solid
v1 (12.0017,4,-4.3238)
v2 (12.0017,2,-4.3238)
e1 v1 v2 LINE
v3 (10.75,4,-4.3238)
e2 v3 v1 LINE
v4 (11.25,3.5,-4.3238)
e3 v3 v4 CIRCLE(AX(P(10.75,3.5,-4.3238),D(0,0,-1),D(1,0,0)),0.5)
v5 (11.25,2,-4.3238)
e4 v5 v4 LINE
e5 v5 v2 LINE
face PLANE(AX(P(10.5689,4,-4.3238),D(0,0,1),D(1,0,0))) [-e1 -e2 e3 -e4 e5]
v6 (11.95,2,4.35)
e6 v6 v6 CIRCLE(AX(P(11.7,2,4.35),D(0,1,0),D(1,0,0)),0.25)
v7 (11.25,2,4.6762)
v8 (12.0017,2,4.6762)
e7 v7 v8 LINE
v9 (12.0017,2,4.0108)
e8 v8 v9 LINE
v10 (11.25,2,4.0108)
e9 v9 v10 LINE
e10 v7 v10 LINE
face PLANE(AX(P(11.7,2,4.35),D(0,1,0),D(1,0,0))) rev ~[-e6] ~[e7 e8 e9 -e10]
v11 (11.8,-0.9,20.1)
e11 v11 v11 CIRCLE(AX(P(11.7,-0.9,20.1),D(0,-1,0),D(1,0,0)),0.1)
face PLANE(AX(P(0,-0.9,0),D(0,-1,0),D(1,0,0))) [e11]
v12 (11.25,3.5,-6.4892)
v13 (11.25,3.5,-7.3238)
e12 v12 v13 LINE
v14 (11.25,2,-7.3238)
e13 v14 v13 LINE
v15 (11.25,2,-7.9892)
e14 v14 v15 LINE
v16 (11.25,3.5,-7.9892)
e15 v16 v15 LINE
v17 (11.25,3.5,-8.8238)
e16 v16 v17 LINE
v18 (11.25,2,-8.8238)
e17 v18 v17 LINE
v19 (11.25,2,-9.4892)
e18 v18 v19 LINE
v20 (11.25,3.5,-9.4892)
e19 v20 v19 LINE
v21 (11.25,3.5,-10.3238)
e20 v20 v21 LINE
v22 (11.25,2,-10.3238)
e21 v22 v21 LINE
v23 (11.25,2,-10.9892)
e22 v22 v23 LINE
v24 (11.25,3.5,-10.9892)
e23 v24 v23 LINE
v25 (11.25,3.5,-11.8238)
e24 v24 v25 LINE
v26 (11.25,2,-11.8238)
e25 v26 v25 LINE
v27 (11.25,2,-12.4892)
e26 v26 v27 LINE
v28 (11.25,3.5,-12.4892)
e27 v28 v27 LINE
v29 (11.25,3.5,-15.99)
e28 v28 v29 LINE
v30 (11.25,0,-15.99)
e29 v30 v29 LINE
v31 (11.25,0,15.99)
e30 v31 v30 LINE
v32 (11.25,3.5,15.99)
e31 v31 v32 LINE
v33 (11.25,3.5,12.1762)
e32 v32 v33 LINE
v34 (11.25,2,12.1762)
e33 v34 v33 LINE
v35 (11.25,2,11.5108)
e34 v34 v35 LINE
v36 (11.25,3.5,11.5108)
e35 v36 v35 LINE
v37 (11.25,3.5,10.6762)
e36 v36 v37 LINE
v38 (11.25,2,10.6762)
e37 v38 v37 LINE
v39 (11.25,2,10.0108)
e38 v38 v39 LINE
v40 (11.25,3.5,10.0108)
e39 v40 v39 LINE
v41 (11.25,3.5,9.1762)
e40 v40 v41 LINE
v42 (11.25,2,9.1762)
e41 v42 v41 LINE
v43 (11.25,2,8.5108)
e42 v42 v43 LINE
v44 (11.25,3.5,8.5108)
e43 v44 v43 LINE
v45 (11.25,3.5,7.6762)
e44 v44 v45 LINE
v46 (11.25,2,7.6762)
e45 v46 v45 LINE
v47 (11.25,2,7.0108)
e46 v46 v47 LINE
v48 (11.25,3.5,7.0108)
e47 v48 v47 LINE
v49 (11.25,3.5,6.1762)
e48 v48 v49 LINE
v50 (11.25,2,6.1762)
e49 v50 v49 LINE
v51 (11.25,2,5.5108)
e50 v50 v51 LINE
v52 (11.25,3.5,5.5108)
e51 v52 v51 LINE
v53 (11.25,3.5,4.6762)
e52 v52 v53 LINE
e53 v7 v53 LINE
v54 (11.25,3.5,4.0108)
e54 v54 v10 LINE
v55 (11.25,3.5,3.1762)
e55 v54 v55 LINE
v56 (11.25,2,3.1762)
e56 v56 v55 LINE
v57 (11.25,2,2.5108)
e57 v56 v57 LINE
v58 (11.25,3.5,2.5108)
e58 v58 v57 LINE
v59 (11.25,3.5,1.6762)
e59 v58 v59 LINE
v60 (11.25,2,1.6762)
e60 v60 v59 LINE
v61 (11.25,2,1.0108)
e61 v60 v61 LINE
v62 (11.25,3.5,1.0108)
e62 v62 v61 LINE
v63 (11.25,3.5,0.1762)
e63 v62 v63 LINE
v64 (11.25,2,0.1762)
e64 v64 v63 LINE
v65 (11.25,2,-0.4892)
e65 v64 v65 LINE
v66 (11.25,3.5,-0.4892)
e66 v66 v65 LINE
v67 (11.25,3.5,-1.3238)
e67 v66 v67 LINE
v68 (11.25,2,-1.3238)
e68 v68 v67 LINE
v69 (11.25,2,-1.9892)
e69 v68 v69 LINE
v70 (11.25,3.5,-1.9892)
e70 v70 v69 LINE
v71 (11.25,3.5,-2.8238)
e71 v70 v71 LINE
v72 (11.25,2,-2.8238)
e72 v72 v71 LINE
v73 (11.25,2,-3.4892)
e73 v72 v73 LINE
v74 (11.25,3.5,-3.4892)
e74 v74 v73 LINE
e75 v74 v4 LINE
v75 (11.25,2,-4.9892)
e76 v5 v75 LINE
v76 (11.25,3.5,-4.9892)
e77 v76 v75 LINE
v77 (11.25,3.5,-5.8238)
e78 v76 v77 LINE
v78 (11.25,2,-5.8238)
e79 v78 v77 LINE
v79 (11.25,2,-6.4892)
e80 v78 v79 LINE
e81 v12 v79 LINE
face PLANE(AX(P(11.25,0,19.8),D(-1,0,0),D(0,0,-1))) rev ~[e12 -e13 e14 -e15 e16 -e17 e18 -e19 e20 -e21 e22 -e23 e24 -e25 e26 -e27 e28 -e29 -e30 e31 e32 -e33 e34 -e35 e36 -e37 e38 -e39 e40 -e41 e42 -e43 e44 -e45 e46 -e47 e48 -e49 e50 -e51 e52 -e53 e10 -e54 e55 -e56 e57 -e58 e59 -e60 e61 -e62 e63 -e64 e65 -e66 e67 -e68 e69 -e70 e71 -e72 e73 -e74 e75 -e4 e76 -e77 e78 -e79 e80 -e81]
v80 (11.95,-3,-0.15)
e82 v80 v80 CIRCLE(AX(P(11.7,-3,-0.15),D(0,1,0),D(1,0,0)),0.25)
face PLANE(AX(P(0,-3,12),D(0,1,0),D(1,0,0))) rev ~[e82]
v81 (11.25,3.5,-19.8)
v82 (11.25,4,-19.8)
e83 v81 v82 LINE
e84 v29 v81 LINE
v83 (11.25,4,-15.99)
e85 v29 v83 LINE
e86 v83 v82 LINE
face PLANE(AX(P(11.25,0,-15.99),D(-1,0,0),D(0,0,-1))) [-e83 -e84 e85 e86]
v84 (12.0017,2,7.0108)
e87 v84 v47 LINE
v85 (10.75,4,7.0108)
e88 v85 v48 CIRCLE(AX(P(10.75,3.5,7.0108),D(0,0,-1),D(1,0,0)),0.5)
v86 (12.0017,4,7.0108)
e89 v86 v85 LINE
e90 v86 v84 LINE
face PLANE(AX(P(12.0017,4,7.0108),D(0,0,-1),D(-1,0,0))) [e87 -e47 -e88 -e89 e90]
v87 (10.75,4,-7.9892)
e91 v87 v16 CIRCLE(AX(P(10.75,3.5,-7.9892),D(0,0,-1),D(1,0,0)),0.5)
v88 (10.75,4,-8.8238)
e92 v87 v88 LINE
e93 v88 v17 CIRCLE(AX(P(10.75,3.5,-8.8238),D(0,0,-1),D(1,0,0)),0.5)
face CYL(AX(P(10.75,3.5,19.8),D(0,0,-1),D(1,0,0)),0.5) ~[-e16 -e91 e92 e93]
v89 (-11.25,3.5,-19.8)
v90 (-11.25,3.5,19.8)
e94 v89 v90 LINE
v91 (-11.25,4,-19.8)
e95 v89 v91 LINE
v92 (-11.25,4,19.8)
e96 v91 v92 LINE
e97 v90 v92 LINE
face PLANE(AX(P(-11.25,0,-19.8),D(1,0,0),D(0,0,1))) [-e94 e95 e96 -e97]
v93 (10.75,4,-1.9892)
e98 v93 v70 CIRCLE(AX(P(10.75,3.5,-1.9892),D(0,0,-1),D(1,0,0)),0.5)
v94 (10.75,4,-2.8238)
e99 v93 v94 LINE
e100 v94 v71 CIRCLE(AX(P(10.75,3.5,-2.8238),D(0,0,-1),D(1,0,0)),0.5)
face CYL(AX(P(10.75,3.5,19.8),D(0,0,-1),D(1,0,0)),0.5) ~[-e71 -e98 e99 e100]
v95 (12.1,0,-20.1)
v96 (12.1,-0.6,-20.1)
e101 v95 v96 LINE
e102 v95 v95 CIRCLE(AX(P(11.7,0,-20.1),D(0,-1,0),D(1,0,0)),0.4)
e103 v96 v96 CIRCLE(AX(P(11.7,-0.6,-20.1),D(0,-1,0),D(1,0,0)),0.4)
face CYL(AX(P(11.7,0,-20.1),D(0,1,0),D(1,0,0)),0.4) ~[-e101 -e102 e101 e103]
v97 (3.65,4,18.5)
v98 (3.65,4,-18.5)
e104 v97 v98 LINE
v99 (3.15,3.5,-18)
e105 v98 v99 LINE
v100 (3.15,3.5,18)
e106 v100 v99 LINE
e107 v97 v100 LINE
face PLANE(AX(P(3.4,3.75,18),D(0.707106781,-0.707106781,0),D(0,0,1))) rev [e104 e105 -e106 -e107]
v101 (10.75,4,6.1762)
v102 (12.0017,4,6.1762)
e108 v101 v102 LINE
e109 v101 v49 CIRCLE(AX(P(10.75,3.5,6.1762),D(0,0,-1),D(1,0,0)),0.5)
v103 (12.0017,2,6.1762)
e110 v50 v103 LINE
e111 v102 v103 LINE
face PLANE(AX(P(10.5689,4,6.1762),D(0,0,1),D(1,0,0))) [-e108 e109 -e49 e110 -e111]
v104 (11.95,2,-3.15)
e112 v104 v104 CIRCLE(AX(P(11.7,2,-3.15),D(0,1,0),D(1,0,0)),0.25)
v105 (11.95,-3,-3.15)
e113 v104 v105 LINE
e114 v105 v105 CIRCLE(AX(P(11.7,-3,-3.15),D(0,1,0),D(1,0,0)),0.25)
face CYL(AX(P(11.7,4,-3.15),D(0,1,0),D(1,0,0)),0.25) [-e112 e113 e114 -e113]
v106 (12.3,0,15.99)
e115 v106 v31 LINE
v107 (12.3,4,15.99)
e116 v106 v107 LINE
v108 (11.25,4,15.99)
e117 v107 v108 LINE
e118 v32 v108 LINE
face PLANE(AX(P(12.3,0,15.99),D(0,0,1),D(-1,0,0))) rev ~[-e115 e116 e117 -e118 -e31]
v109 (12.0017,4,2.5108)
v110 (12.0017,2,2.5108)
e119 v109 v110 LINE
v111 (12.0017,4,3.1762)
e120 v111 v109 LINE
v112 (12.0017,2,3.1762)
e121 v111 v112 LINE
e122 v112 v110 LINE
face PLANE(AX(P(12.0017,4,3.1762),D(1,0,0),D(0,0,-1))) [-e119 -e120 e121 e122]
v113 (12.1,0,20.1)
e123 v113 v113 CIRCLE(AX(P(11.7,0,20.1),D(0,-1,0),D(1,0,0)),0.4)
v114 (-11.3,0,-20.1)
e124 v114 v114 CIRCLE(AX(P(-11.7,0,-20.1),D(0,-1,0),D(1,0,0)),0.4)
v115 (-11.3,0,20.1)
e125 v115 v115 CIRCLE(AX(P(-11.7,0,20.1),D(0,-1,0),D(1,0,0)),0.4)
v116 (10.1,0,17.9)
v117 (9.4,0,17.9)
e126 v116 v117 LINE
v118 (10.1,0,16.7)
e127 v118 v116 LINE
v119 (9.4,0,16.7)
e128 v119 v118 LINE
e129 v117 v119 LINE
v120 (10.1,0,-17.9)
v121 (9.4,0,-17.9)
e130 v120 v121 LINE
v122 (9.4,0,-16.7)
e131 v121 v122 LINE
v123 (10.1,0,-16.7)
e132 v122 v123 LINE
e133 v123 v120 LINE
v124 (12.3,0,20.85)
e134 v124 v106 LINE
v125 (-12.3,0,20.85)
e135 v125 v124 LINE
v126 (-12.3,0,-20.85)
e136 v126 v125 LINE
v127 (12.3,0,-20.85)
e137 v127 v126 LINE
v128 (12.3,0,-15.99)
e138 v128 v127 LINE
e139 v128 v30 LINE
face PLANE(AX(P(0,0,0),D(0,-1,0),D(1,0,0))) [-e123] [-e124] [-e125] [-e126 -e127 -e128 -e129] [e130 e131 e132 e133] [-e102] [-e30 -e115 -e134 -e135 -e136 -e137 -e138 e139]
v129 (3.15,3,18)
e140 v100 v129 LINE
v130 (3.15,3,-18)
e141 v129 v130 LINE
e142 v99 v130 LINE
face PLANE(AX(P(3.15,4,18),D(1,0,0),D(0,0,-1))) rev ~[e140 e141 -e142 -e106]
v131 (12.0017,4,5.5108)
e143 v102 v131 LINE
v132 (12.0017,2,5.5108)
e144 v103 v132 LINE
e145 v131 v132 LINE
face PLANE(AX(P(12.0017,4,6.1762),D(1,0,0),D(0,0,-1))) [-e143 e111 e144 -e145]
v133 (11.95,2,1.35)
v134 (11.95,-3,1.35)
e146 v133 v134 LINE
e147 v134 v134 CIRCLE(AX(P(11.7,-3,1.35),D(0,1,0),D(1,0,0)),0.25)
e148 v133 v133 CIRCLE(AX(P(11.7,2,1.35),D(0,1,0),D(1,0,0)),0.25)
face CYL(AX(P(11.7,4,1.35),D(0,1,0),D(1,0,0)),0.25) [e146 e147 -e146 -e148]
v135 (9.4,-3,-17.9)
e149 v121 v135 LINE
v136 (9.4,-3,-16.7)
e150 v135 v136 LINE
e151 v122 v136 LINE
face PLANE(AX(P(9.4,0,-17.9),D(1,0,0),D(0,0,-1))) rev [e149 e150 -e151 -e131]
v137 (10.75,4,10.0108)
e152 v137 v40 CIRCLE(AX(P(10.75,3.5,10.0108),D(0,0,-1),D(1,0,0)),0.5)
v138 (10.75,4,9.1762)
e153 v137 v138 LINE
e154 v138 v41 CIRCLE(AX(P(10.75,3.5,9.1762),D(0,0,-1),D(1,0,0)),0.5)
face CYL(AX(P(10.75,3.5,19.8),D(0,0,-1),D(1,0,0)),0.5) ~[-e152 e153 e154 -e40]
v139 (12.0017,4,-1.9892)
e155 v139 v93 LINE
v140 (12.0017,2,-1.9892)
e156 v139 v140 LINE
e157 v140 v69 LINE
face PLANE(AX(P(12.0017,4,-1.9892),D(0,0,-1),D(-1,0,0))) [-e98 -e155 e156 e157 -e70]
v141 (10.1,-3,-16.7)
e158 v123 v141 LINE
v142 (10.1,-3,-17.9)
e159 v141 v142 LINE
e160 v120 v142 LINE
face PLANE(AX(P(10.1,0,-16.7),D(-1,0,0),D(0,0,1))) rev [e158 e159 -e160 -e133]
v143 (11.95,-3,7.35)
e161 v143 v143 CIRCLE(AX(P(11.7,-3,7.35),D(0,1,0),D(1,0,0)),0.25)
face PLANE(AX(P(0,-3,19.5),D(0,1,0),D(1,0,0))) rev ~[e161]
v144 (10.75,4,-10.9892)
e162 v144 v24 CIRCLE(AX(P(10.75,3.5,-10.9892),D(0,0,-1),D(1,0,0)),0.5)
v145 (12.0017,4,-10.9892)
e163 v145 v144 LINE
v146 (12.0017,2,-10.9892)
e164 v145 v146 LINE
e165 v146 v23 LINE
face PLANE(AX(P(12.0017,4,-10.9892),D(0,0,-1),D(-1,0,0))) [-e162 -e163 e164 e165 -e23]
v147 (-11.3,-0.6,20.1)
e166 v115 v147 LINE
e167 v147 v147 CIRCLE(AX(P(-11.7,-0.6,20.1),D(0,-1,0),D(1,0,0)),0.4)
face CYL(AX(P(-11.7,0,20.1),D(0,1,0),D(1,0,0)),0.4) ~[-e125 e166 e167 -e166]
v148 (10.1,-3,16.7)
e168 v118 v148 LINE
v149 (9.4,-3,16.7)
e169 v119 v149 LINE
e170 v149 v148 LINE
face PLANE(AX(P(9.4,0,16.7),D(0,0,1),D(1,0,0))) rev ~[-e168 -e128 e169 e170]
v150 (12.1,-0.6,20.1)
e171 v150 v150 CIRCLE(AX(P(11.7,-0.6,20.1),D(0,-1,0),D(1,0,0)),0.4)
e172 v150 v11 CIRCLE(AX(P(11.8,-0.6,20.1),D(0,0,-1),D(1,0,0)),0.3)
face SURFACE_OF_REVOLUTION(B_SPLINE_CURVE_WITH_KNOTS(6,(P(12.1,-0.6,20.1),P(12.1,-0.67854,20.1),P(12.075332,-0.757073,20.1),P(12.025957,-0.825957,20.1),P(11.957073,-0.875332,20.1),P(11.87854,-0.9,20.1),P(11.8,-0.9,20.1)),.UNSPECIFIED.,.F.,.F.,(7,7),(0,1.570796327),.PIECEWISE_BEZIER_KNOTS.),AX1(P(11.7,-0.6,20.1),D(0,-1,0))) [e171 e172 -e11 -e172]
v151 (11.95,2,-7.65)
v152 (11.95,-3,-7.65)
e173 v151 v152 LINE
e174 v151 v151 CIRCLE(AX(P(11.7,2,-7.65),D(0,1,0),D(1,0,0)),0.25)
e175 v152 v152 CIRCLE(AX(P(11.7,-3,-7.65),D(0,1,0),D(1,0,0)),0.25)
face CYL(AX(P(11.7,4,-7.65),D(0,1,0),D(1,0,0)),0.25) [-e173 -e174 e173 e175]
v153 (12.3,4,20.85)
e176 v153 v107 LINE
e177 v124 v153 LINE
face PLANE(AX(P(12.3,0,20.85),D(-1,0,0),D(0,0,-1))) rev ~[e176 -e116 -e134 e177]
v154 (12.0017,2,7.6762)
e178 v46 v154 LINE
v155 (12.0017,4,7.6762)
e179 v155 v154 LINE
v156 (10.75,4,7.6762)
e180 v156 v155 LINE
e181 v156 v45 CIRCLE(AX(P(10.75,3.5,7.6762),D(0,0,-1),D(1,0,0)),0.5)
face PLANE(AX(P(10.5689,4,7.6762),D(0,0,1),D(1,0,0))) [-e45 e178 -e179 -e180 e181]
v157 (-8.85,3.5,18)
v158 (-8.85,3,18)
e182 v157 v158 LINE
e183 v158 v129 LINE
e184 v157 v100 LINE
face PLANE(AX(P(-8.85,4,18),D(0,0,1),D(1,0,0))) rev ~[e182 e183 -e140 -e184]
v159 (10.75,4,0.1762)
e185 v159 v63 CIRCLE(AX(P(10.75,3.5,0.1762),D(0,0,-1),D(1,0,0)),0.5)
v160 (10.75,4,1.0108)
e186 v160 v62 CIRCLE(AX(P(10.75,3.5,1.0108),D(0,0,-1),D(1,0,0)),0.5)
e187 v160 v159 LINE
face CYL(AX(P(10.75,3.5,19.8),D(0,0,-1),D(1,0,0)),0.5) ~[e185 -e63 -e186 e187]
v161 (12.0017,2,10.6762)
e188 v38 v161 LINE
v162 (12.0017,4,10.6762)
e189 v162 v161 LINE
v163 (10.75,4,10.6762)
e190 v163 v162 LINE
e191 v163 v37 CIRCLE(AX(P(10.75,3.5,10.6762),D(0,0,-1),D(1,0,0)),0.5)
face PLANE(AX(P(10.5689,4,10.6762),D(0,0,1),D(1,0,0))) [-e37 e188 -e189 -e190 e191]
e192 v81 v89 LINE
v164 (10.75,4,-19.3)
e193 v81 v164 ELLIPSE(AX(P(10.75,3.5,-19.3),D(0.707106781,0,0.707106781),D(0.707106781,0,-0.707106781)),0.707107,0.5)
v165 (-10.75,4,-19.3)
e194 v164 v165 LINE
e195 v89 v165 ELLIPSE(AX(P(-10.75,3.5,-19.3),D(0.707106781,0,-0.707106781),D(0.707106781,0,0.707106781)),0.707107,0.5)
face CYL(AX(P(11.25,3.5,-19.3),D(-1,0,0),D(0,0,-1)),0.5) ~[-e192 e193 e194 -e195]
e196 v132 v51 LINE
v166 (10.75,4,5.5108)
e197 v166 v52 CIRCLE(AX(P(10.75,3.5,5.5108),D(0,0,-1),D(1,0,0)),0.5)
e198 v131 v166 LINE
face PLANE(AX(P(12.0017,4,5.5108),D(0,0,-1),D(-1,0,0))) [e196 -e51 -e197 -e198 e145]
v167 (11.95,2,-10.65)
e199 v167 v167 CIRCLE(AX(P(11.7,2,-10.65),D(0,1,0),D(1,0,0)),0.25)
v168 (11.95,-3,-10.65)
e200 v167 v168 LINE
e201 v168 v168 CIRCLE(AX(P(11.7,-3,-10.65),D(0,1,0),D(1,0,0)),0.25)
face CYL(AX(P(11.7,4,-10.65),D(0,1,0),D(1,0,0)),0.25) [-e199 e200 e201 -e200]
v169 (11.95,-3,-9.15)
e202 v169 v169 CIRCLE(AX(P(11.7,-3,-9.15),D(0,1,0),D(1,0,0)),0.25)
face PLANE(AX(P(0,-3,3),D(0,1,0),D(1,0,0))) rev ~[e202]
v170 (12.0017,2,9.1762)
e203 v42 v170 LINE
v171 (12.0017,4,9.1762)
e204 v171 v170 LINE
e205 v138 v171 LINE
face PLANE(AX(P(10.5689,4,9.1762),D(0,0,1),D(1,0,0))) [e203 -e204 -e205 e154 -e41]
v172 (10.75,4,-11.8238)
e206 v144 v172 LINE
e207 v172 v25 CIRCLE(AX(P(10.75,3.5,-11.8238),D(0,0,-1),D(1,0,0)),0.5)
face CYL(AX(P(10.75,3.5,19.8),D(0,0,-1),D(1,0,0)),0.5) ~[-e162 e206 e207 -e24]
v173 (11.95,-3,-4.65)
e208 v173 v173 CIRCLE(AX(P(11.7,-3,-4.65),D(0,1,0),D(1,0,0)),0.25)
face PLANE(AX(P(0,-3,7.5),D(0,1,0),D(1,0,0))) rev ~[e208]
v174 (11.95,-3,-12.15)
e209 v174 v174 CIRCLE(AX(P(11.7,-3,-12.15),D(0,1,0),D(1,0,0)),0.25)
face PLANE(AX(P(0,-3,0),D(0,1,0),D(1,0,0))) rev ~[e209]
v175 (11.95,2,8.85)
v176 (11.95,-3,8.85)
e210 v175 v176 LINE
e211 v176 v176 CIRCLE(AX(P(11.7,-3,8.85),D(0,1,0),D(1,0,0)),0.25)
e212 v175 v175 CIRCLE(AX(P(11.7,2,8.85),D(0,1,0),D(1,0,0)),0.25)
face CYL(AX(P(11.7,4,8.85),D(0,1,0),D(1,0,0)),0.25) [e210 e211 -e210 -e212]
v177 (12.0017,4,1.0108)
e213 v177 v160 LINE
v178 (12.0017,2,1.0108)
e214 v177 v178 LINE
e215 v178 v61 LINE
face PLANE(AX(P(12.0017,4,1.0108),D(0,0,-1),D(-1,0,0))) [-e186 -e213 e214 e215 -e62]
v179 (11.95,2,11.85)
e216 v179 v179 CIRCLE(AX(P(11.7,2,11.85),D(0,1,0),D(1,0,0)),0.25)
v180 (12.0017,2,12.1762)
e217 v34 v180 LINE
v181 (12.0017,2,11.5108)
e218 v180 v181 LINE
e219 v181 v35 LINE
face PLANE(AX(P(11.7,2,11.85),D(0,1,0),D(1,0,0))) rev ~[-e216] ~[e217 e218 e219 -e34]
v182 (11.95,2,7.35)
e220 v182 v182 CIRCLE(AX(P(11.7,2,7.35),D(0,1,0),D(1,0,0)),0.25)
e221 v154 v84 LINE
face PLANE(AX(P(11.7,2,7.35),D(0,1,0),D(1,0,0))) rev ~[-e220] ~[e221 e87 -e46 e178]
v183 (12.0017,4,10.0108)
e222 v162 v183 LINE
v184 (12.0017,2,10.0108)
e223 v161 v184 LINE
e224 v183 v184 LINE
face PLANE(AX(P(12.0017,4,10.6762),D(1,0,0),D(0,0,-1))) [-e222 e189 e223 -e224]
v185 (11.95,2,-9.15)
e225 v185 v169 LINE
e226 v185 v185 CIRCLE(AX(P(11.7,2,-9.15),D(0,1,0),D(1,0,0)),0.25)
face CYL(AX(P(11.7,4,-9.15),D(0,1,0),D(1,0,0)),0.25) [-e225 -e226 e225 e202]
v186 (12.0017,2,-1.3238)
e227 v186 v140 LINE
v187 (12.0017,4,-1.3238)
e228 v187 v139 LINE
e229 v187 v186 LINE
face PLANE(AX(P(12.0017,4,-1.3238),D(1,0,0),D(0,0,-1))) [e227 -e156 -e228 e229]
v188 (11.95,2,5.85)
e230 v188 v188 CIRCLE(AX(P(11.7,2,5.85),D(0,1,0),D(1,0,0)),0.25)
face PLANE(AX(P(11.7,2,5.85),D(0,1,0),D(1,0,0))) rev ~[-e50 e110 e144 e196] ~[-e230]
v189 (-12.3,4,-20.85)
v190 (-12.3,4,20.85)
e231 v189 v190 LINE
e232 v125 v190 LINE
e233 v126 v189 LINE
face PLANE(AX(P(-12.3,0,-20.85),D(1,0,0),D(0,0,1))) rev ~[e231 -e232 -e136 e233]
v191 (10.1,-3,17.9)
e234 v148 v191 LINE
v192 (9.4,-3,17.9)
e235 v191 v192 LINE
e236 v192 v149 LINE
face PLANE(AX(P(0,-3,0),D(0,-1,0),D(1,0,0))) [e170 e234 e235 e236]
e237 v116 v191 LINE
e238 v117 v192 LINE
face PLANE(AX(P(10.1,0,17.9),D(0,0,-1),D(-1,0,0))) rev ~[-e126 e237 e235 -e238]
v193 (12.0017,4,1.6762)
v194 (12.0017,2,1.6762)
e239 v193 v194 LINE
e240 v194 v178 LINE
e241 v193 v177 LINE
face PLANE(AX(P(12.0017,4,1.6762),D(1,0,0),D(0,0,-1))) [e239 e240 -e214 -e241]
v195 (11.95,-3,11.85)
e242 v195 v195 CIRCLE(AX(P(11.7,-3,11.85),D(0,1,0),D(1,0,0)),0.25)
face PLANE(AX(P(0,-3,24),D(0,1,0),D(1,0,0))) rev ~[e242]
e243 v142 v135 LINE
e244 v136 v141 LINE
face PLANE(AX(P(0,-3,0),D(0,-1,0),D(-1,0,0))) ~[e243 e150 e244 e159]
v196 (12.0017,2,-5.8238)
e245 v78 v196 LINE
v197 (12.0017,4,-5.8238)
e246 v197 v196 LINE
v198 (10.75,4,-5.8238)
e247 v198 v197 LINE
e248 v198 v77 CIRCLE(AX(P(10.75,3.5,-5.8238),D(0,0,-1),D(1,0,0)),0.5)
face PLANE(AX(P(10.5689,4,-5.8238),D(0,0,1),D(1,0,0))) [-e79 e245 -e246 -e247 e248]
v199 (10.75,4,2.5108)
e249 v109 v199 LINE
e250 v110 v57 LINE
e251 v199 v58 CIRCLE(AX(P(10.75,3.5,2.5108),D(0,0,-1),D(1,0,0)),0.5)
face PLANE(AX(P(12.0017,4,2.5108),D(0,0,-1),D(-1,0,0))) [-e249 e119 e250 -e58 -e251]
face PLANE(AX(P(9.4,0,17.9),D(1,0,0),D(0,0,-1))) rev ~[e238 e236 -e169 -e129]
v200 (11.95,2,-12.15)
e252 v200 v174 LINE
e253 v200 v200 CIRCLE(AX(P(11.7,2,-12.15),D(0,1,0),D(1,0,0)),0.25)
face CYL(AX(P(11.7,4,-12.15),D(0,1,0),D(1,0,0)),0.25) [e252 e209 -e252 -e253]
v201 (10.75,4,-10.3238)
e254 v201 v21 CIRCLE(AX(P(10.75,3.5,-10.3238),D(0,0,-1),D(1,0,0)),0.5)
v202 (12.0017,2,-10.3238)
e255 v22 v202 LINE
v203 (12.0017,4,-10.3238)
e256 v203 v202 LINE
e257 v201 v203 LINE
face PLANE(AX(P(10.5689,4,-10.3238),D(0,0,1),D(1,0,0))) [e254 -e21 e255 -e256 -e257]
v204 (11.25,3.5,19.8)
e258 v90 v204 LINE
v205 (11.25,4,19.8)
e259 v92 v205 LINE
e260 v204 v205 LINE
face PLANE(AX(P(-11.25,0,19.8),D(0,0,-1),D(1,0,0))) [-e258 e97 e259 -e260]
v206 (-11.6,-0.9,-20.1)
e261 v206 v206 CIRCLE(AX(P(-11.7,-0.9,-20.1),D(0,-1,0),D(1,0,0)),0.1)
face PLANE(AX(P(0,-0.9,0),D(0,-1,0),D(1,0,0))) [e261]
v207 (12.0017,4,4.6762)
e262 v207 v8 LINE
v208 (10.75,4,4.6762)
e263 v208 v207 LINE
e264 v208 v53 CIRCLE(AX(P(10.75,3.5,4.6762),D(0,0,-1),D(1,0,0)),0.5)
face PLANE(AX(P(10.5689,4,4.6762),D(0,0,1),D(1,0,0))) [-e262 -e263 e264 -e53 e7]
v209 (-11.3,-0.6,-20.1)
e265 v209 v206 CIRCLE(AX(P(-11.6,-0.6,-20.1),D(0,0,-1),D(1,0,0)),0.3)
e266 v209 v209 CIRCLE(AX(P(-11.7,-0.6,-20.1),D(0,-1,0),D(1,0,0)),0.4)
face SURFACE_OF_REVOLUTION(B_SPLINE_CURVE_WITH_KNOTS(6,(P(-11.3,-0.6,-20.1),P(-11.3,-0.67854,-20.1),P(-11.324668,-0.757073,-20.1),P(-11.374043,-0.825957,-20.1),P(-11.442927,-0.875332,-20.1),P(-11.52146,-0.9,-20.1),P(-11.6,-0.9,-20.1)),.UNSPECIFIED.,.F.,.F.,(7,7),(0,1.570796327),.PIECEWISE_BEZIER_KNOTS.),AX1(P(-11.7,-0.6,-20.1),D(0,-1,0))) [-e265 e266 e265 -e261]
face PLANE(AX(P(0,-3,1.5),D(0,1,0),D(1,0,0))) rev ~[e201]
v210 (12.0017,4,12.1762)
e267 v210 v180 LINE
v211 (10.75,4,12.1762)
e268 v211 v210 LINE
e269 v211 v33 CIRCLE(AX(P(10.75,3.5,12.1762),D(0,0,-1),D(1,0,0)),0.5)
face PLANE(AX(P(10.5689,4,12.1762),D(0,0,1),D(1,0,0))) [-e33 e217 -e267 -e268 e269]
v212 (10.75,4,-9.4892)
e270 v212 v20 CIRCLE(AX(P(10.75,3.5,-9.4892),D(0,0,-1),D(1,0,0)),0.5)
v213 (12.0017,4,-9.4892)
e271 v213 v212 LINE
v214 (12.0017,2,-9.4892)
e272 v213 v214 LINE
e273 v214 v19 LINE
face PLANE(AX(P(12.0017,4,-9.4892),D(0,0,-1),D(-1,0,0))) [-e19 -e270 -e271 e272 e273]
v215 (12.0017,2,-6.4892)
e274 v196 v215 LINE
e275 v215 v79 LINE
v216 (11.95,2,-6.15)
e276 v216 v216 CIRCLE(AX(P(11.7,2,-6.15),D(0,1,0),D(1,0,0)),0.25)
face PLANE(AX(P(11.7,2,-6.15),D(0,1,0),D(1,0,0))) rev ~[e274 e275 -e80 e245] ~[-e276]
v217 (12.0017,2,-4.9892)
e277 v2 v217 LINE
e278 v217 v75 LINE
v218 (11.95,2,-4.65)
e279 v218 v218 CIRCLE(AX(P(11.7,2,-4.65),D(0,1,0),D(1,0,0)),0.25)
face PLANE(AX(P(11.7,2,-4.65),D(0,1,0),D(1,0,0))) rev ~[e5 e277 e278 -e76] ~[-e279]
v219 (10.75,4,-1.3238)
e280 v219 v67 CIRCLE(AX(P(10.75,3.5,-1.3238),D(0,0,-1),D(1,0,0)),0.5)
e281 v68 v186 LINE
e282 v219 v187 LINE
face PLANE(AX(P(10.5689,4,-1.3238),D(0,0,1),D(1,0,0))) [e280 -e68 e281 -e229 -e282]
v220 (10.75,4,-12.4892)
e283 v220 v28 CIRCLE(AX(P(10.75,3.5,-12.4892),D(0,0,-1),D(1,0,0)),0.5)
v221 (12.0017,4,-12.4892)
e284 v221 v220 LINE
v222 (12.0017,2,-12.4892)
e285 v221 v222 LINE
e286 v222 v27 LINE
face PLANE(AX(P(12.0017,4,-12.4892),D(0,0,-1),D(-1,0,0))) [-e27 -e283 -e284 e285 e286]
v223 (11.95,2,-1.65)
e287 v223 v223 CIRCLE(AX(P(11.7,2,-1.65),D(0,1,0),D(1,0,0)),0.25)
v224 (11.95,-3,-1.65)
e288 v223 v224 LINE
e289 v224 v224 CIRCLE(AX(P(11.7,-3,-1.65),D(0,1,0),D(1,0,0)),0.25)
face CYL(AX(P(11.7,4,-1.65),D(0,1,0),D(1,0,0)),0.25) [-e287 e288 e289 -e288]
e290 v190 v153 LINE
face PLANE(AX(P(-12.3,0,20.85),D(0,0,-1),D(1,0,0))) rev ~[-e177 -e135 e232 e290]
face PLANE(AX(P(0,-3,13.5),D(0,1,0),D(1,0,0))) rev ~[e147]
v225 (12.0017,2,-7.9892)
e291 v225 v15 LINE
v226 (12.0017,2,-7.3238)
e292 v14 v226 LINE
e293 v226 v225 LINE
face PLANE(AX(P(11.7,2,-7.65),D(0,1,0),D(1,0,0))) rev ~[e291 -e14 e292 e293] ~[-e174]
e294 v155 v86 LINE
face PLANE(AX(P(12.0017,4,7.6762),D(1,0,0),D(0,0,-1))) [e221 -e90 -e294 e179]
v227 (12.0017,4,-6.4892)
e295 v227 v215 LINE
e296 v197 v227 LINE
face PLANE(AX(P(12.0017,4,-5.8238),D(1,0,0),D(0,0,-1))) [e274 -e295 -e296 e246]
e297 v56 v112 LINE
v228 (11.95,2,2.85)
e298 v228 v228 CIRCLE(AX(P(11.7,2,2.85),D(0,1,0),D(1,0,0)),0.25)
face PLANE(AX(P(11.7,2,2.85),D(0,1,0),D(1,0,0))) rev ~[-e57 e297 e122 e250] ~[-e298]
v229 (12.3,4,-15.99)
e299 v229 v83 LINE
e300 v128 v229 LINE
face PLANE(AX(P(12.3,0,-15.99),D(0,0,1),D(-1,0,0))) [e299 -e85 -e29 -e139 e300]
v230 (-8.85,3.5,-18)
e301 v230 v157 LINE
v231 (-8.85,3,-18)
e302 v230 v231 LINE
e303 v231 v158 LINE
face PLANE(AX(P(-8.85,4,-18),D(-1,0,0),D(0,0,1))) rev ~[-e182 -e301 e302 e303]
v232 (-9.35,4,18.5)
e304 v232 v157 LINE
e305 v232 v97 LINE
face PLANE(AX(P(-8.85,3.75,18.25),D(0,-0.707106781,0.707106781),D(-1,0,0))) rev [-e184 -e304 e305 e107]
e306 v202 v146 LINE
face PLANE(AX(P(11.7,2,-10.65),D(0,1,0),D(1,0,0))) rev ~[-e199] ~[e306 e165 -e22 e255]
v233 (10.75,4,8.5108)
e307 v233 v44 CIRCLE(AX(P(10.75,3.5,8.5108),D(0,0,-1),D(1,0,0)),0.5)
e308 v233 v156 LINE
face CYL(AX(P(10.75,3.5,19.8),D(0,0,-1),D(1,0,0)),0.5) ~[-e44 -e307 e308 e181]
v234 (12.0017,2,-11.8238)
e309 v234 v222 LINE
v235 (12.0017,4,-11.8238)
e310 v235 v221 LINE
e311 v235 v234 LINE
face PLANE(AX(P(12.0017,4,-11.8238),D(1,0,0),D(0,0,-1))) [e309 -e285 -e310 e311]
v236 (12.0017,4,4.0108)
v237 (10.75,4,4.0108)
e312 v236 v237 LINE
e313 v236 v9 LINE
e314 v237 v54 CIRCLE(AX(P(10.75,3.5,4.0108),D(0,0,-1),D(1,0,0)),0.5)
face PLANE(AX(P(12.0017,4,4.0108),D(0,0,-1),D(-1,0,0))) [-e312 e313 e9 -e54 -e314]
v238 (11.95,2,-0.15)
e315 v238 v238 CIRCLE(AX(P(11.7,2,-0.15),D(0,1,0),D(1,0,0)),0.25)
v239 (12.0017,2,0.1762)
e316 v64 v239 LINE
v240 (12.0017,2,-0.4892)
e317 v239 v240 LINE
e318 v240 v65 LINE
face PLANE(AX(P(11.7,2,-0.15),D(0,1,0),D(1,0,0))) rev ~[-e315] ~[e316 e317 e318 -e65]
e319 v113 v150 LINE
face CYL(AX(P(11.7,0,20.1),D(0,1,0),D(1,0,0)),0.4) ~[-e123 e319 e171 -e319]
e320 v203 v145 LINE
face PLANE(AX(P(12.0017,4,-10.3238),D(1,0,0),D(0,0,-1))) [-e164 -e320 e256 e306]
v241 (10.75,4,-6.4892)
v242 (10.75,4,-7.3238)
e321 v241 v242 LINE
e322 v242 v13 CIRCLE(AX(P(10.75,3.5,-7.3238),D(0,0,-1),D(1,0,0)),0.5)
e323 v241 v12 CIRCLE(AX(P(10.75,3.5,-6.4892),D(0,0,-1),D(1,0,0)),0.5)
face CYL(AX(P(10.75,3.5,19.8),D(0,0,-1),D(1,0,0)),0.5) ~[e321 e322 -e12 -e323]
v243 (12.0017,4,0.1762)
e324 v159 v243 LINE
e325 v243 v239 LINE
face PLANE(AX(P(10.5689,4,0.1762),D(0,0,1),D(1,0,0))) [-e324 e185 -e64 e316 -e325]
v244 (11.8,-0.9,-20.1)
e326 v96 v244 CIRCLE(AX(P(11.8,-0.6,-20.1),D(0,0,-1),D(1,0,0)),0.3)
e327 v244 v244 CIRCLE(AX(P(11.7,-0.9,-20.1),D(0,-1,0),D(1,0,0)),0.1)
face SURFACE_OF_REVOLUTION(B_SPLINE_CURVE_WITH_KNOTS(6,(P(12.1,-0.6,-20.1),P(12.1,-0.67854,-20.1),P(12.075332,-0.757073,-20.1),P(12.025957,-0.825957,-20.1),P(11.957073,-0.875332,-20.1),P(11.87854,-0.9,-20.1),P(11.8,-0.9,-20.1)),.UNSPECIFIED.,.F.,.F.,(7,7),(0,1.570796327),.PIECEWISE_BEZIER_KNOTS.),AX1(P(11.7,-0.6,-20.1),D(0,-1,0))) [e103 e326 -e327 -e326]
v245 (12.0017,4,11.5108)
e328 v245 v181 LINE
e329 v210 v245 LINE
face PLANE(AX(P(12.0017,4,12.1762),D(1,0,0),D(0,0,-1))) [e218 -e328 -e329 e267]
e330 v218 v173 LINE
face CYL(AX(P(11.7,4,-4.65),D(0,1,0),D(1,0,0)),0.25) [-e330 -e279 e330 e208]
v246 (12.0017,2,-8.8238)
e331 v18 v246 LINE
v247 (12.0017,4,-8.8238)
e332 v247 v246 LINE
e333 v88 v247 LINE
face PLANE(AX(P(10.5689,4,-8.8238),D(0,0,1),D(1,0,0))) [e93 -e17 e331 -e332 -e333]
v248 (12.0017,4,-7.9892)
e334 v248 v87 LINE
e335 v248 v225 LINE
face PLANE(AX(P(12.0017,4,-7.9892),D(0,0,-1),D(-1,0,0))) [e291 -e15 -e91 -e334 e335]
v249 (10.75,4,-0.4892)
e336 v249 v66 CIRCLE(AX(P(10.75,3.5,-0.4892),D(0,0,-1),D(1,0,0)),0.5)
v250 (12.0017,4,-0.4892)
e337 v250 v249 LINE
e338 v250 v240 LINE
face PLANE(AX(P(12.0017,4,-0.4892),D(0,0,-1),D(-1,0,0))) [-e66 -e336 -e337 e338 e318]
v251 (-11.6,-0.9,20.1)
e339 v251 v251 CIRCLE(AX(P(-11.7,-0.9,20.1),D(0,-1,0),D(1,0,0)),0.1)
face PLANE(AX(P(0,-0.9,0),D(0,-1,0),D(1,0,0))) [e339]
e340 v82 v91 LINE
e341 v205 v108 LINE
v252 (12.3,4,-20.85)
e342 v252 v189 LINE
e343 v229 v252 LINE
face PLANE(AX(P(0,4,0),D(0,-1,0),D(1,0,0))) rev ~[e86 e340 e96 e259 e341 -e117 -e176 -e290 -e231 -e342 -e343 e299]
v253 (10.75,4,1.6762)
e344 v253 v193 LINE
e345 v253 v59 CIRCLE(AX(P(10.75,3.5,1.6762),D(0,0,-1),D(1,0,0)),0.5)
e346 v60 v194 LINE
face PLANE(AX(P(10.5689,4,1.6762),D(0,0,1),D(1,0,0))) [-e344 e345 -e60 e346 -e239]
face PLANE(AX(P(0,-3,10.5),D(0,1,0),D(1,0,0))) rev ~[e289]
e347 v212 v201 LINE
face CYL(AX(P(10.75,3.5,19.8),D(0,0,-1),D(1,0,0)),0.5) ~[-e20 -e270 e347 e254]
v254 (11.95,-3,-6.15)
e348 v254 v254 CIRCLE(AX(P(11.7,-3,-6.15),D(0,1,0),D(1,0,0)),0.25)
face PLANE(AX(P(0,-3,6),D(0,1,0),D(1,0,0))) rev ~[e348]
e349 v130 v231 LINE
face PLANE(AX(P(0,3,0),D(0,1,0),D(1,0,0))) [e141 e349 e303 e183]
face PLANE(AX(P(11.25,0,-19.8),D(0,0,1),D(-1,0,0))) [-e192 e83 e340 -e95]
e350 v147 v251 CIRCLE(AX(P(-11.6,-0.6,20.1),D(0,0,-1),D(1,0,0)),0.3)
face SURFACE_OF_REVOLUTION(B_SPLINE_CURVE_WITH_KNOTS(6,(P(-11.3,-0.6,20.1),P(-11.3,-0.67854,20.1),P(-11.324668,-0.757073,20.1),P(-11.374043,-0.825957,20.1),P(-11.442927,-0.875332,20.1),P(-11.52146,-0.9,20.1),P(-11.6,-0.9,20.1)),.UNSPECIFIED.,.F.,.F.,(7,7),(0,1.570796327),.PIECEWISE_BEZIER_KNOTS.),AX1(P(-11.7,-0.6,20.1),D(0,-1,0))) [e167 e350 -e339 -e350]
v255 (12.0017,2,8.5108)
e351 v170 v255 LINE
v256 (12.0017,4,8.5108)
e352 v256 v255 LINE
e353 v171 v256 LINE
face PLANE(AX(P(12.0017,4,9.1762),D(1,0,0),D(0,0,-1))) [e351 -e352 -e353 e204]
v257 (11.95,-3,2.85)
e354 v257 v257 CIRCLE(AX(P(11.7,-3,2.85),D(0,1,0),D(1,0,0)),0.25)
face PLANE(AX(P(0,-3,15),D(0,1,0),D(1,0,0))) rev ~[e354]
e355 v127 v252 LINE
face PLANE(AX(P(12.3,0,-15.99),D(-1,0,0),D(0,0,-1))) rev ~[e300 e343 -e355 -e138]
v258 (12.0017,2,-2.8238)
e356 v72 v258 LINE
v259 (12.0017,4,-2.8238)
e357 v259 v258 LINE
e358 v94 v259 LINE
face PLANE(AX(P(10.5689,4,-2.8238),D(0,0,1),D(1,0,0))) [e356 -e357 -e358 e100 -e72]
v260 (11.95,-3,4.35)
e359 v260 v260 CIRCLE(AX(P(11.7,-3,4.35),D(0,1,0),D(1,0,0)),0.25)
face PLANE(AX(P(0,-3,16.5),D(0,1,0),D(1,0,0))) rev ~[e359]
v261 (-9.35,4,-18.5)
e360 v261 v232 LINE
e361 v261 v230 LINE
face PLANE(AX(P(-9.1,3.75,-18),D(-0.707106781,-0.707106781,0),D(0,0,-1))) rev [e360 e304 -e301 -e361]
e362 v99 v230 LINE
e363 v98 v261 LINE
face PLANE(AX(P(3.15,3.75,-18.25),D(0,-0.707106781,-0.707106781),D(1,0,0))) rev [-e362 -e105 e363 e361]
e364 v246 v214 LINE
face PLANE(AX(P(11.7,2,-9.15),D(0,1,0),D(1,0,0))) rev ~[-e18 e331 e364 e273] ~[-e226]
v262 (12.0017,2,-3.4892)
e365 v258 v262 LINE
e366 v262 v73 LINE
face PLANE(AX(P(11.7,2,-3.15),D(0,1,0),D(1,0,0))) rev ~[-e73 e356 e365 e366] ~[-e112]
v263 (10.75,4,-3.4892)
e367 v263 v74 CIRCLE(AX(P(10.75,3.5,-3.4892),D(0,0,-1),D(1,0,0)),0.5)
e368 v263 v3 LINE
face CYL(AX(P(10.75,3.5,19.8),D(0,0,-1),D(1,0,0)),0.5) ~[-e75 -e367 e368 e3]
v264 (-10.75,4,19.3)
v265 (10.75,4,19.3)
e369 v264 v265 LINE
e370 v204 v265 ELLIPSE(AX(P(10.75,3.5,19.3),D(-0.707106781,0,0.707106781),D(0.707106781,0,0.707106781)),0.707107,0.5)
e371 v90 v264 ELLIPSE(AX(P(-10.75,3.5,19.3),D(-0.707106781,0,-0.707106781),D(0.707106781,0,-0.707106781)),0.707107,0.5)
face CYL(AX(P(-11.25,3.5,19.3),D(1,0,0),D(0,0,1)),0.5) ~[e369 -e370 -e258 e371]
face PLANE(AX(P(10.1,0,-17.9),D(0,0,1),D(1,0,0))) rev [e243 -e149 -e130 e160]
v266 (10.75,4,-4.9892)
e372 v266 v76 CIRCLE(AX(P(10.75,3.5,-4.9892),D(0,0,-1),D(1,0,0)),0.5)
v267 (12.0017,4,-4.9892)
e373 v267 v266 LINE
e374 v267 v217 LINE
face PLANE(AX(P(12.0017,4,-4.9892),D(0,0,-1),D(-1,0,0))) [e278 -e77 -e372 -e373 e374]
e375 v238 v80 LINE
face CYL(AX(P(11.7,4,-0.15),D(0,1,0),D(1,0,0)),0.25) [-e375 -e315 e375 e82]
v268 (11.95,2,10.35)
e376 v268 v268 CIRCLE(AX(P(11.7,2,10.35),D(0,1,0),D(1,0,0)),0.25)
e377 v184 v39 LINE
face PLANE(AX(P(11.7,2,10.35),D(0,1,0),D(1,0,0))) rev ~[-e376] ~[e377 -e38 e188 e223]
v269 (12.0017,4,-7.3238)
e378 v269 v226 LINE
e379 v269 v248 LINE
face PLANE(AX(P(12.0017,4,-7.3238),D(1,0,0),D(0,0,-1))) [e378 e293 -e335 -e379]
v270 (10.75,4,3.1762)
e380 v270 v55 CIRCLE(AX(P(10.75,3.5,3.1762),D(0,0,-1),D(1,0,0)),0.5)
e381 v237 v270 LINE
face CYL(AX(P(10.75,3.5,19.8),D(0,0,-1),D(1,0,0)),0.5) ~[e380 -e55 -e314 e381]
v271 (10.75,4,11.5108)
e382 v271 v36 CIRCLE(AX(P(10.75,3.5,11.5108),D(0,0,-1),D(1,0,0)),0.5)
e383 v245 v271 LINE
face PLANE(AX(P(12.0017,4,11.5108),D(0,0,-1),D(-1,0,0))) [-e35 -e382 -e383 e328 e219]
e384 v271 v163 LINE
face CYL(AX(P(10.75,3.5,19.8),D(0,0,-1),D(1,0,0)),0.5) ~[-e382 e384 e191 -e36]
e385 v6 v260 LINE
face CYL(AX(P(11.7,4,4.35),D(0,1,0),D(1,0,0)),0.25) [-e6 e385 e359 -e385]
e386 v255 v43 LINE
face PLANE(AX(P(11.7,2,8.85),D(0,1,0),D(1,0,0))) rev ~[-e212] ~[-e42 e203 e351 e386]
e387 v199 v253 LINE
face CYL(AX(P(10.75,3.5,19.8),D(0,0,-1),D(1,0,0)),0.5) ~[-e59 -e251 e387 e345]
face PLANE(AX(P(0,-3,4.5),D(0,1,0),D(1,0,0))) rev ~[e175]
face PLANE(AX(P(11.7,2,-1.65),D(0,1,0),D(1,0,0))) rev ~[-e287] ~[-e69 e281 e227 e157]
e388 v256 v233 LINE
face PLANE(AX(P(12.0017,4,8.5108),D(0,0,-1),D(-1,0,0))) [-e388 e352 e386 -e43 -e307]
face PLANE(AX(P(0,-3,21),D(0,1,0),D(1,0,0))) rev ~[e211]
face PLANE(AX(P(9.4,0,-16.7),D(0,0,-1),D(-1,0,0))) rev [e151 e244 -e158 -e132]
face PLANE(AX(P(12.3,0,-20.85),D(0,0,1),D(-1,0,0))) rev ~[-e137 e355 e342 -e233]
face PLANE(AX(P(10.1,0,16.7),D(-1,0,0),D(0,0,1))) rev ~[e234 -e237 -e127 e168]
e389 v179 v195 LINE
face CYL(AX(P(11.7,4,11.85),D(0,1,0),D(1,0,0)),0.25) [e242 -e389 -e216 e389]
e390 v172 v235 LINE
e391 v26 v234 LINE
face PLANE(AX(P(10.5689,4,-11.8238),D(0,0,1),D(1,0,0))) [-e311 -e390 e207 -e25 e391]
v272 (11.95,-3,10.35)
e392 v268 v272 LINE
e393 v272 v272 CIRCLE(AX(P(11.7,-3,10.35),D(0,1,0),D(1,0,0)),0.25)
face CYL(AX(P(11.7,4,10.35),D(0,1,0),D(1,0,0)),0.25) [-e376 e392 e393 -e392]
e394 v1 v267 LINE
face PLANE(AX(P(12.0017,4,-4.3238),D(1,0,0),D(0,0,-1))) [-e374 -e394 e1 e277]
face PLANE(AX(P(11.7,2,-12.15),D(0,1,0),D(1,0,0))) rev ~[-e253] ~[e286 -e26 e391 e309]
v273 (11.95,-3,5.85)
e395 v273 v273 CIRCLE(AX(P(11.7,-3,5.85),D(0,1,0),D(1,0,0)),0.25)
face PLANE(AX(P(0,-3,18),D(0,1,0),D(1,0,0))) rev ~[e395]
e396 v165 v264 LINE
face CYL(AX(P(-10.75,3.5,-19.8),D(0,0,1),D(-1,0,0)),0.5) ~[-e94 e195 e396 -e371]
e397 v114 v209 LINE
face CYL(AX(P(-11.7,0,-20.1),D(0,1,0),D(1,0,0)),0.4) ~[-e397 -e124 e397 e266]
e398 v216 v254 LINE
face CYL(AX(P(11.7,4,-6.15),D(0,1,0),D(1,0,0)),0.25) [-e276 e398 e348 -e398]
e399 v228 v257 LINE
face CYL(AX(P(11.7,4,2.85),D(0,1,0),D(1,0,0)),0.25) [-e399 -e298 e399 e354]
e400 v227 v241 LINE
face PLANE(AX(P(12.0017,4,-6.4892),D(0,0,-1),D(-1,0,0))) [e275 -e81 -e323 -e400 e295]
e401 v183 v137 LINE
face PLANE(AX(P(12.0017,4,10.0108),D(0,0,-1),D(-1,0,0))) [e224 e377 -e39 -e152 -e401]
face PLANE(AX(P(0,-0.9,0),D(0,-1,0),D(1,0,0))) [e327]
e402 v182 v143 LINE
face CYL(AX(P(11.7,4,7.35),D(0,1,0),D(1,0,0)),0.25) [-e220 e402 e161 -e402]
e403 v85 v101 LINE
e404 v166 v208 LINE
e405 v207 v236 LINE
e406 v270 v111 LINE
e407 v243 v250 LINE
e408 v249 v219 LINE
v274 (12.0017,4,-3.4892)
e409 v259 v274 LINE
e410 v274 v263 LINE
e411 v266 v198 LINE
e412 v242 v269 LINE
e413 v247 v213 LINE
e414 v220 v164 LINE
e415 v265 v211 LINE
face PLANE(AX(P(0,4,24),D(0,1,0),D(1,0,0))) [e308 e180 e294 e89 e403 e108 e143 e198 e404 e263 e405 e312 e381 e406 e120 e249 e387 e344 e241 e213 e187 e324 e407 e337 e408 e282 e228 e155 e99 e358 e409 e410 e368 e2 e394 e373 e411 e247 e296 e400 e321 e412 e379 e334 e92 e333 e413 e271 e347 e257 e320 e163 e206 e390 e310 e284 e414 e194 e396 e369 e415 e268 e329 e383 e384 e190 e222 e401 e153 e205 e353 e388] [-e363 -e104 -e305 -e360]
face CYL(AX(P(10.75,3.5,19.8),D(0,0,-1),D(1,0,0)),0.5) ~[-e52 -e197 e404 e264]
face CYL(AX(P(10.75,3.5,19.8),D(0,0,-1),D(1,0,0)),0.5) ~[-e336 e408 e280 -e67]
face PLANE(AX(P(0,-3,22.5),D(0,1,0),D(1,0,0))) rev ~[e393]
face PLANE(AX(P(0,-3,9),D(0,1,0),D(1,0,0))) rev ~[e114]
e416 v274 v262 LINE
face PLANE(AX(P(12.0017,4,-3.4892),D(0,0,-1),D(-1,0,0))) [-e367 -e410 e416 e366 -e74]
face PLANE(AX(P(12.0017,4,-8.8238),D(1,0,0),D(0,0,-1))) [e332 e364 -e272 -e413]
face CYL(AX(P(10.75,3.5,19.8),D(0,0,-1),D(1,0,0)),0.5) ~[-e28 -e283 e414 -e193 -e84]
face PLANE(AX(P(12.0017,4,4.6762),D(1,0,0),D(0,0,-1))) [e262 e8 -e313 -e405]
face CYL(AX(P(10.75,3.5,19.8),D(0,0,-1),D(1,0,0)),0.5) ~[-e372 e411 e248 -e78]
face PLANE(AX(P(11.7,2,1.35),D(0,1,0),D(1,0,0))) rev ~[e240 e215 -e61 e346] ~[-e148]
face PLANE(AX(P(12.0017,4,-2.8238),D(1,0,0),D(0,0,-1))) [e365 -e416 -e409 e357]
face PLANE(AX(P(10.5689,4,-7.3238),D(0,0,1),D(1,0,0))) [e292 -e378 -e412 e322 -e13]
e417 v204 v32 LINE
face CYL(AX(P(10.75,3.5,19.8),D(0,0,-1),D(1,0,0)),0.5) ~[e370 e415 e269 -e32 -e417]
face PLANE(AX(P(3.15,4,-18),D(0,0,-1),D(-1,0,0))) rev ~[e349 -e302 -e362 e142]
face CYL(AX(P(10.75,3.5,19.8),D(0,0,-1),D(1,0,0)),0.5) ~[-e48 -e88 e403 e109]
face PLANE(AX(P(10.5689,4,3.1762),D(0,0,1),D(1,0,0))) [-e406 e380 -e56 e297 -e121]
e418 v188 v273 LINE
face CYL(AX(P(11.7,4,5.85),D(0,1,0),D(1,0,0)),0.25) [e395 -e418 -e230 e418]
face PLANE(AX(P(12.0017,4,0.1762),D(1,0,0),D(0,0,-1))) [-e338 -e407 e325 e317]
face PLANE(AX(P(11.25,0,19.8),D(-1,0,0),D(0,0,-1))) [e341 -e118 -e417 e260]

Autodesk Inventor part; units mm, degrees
ref_plane "YZ Plane" through (0, 0, 0) normal (1, 0, 0) x (0, 1, 0)
ref_plane "XZ Plane" through (0, 0, 0) normal (0, 1, 0) x (-1, 0, 0)
ref_plane "XY Plane" through (0, 0, 0) normal (0, 0, 1) x (1, 0, 0)
sketch "Sketch1" plane through (0, 0, 0) normal (0, 1, 0) x (-1, 0, 0)
  line L0 (11.25, 19.8) -> (-11.25, 19.8)
  line L1 (-11.25, 19.8) -> (-11.25, -19.8)
  line L2 (-11.25, -19.8) -> (11.25, -19.8)
  line L3 (11.25, -19.8) -> (11.25, 19.8)
  point P0 (0, 0)
  dimension "d0" = 39.6
  dimension "d1" = 22.5
  dimension "d2" = 11.25
  dimension "d3" = 19.8
extrude "Extrusion1" add sketch "Sketch1" along normal blind 4
fillet "Fillet1" radius 0.5 4 edges at (0, 4, 19.8) (11.25, 4, 0) (-11.25, 4, 0) (0, 4, -19.8)
sketch "Sketch2" plane through (0, 0, 0) normal (0, -1, 0) x (1, 0, 0)
  line L0 (-12.3, 20.85) -> (12.3, 20.85)
  line L1 (12.3, -20.85) -> (-12.3, -20.85)
  line L2 (-12.3, -20.85) -> (-12.3, 20.85)
  line L3 (12.3, 15.99) -> (11.25, 15.99)
  line L4 (11.25, 19.8) -> (11.25, -19.8) projected
  line L5 (12.3, -15.99) -> (11.25, -15.99)
  line L6 (11.25, -15.99) -> (11.25, 15.99)
  line L7 (12.3, 20.85) -> (12.3, 15.99)
  line L8 (12.3, -15.99) -> (12.3, -20.85)
  line L9 (-11.25, 19.8) -> (11.25, 19.8) projected
  line L10 (-11.25, 19.8) -> (11.25, 19.8)
  line L11 (11.25, 19.8) -> (11.25, -19.8)
  line L12 (11.25, -19.8) -> (-11.25, -19.8)
  line L13 (-11.25, -19.8) -> (-11.25, 19.8)
  point P0 (0, 0)
  dimension "d7" = 24.6
  dimension "d8" = 41.7
  dimension "d9" = 20.85
  dimension "d10" = 12.3
  dimension "d11" = 31.98
  dimension "d12" = 15.99
extrude "Extrusion2" add sketch "Sketch2" against normal blind 4 contours L0 L7 L3 L4 L9 L13 L12 L5 L8 L1 L2
sketch "Sketch3" plane through (0, 4, 0) normal (0, 1, 0) x (1, 0, 0)
  line L0 (-8.85, -18) -> (3.15, -18)
  line L1 (3.15, -18) -> (3.15, 18)
  line L2 (3.15, 18) -> (-8.85, 18)
  line L3 (-8.85, 18) -> (-8.85, -18)
  line L4 (-10.75, -19.3) -> (-10.75, 19.3) projected
  point P0 (0, 0)
  dimension "d15" = 12
  dimension "d16" = 36
  dimension "d17" = 18
  dimension "d18" = 1.9
extrude "Extrusion3" cut sketch "Sketch3" against normal blind 1
chamfer "Chamfer1" distance 0.5 angle 45 4 edges at (-2.85, 4, 18) (3.15, 4, 0) (-8.85, 4, 0) (-2.85, 4, -18)
sketch "Sketch5" plane through (0, 4, 0) normal (0, 1, 0) x (1, 0, 0)
  circle A0 centre (11.7, 12.15) radius 0.25
  line L0 (12.3, 20.85) -> (-12.3, 20.85) projected
  line L1 (12.3, 15.99) -> (12.3, 20.85) projected
  point P0 (0, 0)
  dimension "d26" = 0.5
  dimension "d27" = 8.7
  dimension "d28" = 0.6
extrude "Extrusion4" add sketch "Sketch5" against normal blind 7
sketch "Sketch6" plane through (11.7, 4, -12.15) normal (0, 1, 0) x (1, 0, 0)
  line L0 (0.3017, 0.3392) -> (-1.1311, 0.3392)
  line L1 (-1.1311, 0.3392) -> (-1.1311, -0.3262)
  line L2 (-1.1311, -0.3262) -> (0.3017, -0.3262)
  line L3 (0.3017, -0.3262) -> (0.3017, 0.3392)
  point P0 (-11.7, -12.15)
extrude "Extrusion5" add sketch "Sketch6" against normal blind 2
pattern_linear "Rectangular Pattern1" count 17 spacing 1.5 along (0, 0, 1) of "Extrusion4", "Extrusion5"
sketch "Sketch7" plane through (0, 0, 0) normal (0, -1, 0) x (1, 0, 0)
  line L0 (10.1, 17.9) -> (9.4, 17.9)
  line L1 (9.4, 17.9) -> (9.4, 16.7)
  line L2 (9.4, 16.7) -> (10.1, 16.7)
  line L3 (10.1, 16.7) -> (10.1, 17.9)
  line L4 (12.3, 15.99) -> (12.3, 20.85) projected
  point P0 (0, 0)
  dimension "d36" = 1.2
  dimension "d37" = 0.7
  dimension "d38" = 16.7
  dimension "d39" = 2.2
extrude "Extrusion6" add sketch "Sketch7" along normal blind 3
mirror "Mirror1" about plane through (0, 0, 0) normal (0, 0, 1) of "Extrusion6"
sketch "Sketch8" plane through (0, 0, 0) normal (0, -1, 0) x (1, 0, 0)
  circle A0 centre (11.7, 20.1) radius 0.4
  circle A1 centre (11.7, -20.1) radius 0.4
  circle A2 centre (-11.7, -20.1) radius 0.4
  circle A3 centre (-11.7, 20.1) radius 0.4
  line L0 (-12.3, 20.85) -> (-12.3, -20.85) projected
  line L1 (12.3, -20.85) -> (12.3, -15.99) projected
  point P0 (0, 0)
  dimension "d42" = 0.8
  dimension "d43" = 0.8
  dimension "d44" = 0.8
  dimension "d45" = 0.8
  dimension "d46" = 40.2
  dimension "d47" = 20.1
  dimension "d48" = 40.2
  dimension "d49" = 20.1
  dimension "d50" = 0
  dimension "d51" = 0
  dimension "d52" = 0.6
  dimension "d53" = 0.6
extrude "Extrusion7" add sketch "Sketch8" along normal blind 0.9
fillet "Fillet2" radius 0.3 4 edges at (-12.1, -0.9, 20.1) (-12.1, -0.9, -20.1) (11.3, -0.9, -20.1) (11.3, -0.9, 20.1)
properties part number "NHD-C12832A1Z_LCD"
